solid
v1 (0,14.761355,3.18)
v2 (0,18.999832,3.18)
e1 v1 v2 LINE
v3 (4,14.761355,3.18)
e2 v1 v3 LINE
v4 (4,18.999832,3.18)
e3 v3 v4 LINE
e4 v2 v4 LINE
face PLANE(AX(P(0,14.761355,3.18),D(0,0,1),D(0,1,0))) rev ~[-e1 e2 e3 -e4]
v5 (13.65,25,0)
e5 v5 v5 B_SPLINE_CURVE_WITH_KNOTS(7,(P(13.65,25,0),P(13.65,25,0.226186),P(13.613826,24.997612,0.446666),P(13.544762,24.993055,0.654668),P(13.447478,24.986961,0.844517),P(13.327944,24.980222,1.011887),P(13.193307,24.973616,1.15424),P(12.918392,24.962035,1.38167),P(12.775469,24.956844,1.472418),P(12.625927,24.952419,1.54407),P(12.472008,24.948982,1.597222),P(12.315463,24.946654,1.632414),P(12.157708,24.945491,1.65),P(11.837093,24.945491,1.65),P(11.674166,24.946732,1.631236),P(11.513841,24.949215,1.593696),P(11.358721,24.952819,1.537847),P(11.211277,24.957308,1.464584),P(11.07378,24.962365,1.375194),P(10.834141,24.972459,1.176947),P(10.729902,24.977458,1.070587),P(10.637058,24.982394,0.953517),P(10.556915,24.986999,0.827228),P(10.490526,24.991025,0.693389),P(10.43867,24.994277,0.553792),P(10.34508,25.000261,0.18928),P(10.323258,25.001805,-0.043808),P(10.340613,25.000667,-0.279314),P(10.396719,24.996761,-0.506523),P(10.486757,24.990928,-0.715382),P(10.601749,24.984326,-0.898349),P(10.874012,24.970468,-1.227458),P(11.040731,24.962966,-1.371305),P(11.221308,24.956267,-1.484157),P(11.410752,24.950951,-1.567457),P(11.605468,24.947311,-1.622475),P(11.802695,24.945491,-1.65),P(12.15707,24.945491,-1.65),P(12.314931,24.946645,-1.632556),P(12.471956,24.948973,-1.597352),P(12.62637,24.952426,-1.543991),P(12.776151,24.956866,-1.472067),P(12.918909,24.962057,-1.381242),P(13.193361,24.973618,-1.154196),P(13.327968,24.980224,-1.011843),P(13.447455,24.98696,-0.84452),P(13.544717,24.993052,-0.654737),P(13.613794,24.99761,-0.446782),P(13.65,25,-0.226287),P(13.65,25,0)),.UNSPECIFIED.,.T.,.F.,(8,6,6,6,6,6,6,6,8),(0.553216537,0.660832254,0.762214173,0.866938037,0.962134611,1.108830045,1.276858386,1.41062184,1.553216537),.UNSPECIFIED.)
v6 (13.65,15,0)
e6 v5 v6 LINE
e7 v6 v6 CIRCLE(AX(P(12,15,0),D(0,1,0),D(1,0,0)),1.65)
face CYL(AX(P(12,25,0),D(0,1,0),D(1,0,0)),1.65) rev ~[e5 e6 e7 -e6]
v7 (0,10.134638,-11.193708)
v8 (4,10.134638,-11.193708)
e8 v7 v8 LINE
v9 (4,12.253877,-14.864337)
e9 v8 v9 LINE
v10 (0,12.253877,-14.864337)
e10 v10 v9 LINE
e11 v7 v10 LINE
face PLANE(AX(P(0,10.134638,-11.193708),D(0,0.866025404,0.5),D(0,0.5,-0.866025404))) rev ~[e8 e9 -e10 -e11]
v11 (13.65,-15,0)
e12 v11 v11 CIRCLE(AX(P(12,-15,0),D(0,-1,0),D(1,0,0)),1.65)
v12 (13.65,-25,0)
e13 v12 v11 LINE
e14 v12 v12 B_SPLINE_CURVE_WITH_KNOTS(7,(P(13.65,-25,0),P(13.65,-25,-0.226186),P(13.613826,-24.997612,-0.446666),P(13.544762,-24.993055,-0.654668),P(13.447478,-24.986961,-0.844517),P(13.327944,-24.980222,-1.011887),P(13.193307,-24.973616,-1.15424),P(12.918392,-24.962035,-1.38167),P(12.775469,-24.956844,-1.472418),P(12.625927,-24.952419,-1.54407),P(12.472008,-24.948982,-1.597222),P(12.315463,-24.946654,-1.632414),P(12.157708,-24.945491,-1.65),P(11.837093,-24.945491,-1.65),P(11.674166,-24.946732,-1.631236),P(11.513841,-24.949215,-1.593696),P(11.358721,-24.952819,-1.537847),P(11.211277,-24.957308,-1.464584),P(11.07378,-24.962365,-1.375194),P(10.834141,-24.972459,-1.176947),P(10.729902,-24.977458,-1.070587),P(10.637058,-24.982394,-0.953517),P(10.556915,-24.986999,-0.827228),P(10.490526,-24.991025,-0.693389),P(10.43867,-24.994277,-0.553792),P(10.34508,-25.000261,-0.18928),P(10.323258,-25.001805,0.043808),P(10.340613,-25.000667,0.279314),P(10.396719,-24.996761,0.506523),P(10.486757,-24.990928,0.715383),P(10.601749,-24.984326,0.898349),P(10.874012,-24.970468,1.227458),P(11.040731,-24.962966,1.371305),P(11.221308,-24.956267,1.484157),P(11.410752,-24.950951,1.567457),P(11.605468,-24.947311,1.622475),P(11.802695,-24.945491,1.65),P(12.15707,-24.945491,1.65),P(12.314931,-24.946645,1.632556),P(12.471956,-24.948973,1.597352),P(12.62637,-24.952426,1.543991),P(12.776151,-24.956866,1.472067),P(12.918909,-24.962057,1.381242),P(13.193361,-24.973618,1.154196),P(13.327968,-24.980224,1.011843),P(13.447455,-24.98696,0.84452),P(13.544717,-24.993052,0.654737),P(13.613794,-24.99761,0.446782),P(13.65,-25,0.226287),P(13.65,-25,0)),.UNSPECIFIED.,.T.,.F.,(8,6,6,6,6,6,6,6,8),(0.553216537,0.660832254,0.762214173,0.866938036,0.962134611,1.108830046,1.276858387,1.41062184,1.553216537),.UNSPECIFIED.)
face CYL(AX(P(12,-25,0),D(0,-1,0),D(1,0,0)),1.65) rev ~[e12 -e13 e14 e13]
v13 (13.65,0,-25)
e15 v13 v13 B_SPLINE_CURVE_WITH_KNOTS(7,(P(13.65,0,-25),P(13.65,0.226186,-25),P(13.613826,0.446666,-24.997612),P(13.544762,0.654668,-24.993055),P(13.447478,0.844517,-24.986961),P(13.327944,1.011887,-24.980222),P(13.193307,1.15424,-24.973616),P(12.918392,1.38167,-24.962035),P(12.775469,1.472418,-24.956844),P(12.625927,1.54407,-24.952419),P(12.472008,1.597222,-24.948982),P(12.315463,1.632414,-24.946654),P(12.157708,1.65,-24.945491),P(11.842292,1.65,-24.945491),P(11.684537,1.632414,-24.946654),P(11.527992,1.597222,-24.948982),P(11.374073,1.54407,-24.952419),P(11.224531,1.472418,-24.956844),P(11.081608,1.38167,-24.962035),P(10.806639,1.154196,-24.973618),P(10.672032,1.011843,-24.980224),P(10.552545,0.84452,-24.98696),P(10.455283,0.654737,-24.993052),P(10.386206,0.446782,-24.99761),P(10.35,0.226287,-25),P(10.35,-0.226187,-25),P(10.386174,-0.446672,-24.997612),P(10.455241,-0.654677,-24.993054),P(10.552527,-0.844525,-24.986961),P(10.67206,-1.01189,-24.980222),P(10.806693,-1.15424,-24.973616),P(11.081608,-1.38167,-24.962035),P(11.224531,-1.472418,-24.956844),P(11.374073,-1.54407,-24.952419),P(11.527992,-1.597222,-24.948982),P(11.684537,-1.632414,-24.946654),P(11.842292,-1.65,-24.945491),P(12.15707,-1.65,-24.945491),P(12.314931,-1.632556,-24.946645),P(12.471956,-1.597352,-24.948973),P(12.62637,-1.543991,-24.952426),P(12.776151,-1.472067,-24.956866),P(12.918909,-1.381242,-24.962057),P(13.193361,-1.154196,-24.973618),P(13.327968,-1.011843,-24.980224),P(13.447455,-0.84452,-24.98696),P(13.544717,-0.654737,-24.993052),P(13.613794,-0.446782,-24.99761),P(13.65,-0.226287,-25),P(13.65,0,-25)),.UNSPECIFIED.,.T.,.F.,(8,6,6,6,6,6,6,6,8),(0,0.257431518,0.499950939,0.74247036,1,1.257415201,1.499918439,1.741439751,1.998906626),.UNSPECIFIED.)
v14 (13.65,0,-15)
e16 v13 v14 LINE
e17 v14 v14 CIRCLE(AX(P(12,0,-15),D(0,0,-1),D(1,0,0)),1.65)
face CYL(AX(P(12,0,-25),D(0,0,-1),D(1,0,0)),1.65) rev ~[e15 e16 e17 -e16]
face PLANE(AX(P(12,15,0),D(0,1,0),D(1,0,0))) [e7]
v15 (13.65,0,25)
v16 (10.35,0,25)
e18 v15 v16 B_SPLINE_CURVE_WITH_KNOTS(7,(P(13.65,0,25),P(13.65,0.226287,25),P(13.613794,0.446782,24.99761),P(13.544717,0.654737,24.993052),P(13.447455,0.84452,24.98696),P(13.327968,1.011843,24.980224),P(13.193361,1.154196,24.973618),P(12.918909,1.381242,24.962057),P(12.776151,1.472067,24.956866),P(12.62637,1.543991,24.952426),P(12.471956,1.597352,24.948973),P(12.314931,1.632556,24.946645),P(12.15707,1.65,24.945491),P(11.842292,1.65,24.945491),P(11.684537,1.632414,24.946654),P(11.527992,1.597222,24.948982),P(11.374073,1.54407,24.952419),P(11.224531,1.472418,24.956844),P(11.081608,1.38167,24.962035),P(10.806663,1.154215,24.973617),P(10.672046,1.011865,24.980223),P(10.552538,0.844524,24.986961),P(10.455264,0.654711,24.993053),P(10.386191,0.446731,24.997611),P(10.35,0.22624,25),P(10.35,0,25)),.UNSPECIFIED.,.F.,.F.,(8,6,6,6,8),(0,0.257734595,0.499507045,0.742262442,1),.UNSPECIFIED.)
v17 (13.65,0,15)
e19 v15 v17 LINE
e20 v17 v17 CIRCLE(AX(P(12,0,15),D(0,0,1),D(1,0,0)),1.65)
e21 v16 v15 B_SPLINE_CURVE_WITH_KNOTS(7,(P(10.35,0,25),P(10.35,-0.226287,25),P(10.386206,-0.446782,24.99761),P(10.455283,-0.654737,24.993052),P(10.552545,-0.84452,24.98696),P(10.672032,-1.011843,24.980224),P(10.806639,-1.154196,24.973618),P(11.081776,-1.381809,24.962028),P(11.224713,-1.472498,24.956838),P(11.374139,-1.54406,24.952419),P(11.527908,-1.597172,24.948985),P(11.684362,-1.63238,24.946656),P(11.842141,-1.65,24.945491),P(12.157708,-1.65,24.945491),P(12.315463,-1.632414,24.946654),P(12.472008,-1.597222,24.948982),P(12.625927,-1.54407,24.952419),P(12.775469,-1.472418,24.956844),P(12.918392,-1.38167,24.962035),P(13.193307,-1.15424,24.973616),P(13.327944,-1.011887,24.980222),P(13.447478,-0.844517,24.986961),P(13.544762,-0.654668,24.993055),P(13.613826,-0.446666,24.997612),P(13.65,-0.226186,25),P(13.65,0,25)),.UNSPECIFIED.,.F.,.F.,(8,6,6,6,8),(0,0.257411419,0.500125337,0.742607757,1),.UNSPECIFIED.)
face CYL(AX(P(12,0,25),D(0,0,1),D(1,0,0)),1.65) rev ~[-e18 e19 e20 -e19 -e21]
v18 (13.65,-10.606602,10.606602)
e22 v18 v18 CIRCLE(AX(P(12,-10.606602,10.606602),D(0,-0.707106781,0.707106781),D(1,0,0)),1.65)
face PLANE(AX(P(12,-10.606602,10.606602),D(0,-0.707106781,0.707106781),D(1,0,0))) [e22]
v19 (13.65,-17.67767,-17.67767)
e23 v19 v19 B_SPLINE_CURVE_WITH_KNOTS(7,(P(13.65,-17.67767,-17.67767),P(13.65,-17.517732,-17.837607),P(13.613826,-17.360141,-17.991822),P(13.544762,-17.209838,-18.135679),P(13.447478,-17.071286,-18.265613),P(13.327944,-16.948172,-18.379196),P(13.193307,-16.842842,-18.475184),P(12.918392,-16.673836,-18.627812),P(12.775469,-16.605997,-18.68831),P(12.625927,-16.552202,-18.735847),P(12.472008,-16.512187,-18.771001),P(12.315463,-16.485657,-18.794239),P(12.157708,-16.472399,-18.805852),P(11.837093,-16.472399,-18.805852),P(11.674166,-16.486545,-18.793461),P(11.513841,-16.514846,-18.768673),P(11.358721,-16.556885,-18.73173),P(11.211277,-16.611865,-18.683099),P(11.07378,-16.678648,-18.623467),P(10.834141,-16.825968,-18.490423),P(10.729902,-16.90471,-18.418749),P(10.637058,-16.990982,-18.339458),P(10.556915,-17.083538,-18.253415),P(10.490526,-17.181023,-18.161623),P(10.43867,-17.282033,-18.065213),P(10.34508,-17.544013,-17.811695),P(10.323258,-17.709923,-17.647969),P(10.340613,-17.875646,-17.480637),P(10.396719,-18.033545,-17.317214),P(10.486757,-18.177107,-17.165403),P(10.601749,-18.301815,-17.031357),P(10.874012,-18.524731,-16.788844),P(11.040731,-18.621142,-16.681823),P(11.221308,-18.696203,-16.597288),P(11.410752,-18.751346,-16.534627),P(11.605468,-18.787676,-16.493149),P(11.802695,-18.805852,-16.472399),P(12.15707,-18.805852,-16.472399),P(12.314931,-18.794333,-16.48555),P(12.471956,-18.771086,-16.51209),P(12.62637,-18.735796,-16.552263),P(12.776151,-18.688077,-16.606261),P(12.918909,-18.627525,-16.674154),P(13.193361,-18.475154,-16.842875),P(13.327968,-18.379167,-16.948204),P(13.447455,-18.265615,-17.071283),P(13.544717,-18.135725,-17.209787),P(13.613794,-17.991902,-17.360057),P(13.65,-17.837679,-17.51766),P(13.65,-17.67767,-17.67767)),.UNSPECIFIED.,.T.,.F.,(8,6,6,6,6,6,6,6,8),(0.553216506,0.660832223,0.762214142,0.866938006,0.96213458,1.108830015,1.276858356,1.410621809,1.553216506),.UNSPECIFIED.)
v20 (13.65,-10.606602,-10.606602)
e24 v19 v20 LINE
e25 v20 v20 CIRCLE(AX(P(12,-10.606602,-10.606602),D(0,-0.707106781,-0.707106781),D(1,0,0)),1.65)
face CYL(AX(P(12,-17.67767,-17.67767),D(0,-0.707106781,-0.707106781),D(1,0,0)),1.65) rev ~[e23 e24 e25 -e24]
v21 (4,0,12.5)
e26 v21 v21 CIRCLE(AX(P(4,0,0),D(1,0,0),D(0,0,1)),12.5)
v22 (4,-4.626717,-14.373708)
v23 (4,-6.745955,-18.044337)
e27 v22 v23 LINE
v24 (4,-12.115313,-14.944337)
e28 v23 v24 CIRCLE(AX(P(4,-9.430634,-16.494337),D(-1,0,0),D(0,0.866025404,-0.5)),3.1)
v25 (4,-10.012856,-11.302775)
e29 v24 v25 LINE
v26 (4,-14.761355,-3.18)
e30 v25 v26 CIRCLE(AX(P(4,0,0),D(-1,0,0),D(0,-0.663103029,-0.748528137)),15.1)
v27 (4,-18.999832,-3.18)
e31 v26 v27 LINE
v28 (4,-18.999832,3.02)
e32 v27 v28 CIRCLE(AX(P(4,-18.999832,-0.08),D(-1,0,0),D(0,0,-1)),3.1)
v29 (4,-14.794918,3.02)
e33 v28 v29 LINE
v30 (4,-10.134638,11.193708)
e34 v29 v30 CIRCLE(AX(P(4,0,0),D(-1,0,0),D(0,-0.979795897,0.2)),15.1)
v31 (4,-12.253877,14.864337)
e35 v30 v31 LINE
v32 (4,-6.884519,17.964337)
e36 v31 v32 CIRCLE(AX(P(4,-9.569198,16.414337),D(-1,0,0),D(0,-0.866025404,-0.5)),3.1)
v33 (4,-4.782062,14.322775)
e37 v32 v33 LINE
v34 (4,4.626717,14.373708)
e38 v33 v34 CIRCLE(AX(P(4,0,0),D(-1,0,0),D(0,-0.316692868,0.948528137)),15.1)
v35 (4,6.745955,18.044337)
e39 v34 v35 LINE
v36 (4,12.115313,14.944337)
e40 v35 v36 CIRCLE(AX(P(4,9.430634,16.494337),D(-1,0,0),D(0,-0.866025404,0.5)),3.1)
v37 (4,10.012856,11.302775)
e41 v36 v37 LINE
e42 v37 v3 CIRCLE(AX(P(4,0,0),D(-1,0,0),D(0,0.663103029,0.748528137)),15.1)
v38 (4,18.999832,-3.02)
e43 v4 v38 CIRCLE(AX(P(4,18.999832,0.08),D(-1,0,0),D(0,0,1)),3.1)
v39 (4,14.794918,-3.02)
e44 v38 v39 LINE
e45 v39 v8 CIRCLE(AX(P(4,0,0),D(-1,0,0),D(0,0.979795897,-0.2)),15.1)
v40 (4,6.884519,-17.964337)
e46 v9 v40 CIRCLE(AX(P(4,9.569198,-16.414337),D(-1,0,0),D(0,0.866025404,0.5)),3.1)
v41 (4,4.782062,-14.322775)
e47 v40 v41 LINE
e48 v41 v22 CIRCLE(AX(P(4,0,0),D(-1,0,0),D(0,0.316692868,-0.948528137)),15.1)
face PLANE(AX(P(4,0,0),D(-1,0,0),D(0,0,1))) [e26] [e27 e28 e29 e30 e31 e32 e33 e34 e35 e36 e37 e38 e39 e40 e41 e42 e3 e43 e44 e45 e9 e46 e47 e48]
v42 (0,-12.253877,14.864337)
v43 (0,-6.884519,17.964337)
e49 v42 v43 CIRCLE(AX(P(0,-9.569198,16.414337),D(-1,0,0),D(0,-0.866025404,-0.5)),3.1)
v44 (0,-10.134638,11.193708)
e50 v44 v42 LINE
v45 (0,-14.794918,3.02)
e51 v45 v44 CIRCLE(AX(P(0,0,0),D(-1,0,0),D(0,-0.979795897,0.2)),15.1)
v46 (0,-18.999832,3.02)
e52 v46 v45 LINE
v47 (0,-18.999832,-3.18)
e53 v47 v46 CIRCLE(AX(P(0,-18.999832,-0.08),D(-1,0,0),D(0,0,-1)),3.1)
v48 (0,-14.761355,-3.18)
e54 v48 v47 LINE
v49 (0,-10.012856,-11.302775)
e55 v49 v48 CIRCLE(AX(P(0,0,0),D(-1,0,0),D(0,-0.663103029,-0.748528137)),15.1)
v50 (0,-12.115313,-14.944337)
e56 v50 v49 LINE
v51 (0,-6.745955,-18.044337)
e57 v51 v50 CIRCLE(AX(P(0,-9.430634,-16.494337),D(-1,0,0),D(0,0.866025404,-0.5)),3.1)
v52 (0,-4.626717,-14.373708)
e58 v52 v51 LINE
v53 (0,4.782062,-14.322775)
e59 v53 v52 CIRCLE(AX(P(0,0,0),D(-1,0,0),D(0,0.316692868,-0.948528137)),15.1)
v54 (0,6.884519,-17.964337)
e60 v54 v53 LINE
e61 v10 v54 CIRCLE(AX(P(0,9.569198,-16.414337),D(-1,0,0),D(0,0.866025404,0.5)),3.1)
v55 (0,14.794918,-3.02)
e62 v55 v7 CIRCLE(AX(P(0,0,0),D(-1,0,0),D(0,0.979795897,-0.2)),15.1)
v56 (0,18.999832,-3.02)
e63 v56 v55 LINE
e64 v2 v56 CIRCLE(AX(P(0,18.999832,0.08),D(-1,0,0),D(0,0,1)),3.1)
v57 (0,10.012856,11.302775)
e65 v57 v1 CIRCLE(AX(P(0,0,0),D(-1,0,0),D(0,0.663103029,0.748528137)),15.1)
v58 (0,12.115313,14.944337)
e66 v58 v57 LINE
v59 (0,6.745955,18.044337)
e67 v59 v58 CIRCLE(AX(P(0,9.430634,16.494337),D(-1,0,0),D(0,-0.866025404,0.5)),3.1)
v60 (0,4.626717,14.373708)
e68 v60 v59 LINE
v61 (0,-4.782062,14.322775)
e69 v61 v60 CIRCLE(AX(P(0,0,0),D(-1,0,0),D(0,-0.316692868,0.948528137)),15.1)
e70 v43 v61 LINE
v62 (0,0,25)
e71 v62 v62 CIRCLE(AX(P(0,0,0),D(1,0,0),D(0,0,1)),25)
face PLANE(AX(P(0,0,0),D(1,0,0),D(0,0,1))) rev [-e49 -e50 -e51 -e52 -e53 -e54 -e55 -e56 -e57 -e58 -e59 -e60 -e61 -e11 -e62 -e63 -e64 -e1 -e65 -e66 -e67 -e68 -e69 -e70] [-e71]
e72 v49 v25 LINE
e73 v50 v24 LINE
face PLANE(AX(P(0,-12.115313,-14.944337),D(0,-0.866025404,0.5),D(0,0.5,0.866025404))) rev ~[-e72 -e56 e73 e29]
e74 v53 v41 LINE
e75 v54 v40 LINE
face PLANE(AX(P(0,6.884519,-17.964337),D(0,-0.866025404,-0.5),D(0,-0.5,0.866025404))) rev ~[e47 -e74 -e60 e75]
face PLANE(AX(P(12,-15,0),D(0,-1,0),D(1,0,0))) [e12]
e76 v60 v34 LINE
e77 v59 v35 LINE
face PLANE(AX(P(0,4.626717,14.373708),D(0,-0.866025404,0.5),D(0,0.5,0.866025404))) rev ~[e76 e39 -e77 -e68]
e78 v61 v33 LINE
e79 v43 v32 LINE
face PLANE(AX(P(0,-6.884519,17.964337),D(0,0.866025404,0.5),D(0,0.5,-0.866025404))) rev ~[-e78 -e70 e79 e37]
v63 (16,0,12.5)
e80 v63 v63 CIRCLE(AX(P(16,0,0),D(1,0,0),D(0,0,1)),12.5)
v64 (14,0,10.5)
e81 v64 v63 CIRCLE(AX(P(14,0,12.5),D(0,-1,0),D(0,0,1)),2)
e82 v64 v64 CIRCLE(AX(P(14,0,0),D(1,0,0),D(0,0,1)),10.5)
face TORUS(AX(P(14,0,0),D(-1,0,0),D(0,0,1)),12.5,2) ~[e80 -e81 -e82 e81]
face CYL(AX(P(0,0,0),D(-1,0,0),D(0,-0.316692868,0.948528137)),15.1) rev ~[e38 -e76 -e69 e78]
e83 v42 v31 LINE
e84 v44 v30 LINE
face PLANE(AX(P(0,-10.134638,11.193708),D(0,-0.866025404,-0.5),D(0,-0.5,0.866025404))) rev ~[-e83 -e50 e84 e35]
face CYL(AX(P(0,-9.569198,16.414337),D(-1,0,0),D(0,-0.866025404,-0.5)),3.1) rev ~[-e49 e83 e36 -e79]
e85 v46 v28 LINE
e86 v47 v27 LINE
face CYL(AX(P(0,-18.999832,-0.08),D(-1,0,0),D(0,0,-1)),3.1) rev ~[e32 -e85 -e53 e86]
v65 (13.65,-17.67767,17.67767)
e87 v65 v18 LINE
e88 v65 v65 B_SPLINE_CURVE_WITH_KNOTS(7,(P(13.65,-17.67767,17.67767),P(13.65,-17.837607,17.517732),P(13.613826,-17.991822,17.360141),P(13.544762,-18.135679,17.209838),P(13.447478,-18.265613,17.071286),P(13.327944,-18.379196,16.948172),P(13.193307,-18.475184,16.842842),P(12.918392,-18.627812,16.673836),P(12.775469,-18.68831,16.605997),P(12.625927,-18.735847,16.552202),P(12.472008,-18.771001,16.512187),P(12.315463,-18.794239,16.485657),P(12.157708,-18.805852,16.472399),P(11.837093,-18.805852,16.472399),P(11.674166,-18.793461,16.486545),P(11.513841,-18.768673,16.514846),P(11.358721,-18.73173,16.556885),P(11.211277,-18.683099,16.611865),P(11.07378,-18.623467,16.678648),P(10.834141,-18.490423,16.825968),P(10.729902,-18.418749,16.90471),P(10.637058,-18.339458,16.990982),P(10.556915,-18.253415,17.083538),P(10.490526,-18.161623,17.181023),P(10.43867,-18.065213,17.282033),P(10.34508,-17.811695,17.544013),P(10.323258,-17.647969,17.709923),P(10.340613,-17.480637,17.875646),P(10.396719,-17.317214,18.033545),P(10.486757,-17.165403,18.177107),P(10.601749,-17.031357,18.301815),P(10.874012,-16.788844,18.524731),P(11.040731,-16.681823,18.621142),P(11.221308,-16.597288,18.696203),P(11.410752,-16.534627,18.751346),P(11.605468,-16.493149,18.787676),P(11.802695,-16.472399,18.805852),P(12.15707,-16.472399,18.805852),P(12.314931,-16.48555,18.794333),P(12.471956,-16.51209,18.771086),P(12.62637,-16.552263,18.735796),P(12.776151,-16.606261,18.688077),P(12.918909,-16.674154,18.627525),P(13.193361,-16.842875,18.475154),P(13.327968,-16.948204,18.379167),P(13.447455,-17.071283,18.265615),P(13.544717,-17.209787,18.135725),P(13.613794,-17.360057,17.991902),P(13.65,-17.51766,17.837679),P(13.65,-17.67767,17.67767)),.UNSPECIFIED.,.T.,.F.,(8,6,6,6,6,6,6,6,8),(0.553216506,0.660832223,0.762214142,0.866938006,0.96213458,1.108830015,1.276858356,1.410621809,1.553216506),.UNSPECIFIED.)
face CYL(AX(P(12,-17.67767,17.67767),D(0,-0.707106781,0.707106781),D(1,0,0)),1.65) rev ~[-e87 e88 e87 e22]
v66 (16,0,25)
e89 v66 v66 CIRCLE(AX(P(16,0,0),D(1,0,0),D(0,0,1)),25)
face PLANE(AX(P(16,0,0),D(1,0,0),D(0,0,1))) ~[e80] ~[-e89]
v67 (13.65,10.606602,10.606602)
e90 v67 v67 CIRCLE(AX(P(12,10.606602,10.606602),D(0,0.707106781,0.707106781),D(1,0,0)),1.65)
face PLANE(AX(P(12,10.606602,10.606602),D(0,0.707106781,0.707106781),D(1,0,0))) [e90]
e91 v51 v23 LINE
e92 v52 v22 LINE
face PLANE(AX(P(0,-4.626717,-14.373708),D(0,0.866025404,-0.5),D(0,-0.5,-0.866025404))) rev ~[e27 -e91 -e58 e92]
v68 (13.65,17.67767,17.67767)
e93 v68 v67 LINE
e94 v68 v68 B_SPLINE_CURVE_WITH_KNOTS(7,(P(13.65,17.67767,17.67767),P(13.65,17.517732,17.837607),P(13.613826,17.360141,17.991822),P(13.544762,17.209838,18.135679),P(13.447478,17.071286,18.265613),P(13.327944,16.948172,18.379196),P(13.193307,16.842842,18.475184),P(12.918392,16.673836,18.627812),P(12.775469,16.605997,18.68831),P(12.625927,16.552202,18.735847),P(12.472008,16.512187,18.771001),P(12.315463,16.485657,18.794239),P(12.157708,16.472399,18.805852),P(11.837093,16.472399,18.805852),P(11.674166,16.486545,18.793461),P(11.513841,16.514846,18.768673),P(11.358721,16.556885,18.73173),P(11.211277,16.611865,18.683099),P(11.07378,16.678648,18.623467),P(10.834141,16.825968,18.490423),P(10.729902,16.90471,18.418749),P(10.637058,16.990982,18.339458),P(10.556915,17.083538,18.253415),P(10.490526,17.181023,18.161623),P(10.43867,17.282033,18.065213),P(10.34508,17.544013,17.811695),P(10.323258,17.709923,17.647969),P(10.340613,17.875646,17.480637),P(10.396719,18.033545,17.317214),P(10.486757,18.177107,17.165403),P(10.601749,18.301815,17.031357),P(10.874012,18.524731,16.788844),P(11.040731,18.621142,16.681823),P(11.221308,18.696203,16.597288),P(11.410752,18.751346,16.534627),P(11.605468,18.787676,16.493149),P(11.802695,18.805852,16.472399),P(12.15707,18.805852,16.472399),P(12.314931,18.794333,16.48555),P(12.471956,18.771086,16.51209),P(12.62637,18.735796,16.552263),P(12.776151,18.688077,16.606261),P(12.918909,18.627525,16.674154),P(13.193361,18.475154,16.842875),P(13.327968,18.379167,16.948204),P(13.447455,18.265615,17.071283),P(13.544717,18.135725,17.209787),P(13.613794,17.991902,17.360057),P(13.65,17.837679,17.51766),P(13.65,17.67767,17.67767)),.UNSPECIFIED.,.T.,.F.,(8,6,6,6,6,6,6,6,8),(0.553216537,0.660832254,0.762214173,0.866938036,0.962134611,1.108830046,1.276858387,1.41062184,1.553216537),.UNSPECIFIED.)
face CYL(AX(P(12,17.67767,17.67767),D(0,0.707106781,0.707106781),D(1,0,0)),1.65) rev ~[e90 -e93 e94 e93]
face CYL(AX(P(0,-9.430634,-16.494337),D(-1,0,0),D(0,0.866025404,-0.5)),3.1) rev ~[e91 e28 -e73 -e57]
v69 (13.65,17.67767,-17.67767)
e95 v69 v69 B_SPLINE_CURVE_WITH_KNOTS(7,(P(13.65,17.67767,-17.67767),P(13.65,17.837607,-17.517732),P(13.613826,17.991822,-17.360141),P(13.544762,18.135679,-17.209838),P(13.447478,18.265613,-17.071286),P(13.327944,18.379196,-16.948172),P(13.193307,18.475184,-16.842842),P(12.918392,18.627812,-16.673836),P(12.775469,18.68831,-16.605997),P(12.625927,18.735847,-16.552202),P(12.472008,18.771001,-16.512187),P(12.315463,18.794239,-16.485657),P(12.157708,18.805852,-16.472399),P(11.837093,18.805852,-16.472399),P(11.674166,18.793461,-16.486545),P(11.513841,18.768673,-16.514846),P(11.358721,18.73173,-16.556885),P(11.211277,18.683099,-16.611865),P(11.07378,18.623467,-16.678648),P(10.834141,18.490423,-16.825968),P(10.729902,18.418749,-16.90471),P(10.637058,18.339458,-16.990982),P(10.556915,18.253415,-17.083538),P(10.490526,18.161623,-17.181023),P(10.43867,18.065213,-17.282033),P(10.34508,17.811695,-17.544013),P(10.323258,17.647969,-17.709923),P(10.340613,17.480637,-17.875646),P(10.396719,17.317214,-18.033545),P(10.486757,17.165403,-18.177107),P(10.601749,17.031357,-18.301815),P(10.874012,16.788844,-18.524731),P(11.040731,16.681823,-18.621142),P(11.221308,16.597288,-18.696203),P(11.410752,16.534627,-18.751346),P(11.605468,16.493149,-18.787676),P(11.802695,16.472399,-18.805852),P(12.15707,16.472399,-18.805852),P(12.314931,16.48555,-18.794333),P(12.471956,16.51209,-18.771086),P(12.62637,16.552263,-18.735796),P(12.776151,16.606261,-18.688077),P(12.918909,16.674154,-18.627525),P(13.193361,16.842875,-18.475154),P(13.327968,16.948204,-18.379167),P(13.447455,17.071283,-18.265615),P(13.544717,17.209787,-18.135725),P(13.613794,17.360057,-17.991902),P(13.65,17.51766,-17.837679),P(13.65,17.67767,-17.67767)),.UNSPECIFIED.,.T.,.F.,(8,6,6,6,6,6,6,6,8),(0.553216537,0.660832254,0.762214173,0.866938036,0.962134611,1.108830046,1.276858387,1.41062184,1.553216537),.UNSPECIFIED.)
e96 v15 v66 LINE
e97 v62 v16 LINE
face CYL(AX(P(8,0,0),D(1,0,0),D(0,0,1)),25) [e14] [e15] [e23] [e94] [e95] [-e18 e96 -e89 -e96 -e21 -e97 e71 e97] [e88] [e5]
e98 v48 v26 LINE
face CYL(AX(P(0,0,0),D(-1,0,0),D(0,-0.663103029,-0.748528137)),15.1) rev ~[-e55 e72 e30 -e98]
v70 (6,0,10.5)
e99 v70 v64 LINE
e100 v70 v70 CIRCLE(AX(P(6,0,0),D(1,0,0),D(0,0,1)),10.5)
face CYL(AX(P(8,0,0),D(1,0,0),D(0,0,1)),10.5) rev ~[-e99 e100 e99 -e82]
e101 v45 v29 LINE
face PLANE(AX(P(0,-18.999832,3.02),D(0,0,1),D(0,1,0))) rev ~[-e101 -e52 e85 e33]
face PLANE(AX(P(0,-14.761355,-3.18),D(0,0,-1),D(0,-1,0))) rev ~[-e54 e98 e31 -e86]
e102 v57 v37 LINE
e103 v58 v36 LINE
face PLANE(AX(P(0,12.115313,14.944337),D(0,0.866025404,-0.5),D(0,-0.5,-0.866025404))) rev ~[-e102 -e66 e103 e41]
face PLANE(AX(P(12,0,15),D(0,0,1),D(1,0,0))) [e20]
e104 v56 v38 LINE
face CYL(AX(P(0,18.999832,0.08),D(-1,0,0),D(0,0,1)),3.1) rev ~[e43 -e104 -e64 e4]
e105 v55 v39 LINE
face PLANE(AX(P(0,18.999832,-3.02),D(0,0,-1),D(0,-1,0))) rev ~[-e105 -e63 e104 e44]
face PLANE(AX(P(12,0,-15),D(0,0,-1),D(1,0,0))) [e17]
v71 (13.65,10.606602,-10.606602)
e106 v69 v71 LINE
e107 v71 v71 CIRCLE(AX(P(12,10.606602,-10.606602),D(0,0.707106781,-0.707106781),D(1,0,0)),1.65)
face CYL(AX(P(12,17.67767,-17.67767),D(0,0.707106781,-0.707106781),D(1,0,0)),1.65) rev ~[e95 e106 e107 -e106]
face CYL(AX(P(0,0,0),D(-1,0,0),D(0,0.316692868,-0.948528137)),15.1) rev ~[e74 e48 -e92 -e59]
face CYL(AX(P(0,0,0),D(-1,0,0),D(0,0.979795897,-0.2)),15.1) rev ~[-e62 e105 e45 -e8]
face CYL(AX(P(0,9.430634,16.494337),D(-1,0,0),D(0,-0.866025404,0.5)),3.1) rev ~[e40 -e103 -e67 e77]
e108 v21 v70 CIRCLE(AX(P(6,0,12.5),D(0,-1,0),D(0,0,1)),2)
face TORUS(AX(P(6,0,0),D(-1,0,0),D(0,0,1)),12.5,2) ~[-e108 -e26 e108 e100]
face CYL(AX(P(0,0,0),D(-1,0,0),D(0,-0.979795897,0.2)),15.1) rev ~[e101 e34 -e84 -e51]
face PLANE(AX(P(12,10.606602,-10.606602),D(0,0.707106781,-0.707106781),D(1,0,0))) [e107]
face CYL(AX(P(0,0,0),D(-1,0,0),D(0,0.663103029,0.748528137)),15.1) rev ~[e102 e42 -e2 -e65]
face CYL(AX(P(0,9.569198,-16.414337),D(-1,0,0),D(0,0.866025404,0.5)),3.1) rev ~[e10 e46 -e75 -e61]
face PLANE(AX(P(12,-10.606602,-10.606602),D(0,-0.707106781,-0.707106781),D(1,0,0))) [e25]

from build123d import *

# Parameters (mm, degrees)
ESQUISSE1_W                  = 16
ESQUISSE1_H                  = 14.5
ESQUISSE2_R                  = 4.1
ENL_V_MAT_EXTRU_1_DEPTH      = 4
CONG_2_R                     = 2
CONG_3_R                     = 2
ENL_V_START                  = 25
ESQUISSE3_R                  = 1.65
ENL_V_MAT_EXTRU_2_DEPTH      = 10
R_P_TITION_CIRCULAIRE1_COUNT = 8


with BuildPart() as part:
    # Esquisse1 → Révolution1 (revolve)
    with BuildSketch(Plane.XY, mode=Mode.PRIVATE) as r_volution1_sk:
        with Locations((8, 17.75)):
            Rectangle(ESQUISSE1_W, ESQUISSE1_H)
    revolve(r_volution1_sk.sketch.rotate(Axis((0, 0, 0), (1, 0, 0)), 90), axis=Axis((0, 0, 0), (1, 0, 0)))  # turned: the seam where the file's is

    # Esquisse2 → Enlèv. mat.-Extru.1 (cut)
    with BuildSketch(Plane.ZY):
        with BuildLine():
            Line((3.18, 14.761354951), (3.18, 18.999831578))
            ThreePointArc((3.18, 18.999831578), (0.08, 22.099831578), (-3.02, 18.999831578))
            Line((-3.02, 18.999831578), (-3.02, 14.794918046))
            ThreePointArc((-3.02, 14.794918046), (-7.479099439, 13.117662581), (-11.193708382, 10.13463826))
            Line((-11.193708382, 10.13463826), (-14.864336814, 12.253876573))
            ThreePointArc((-14.864336814, 12.253876573), (-19.099015566, 11.119197821), (-17.964336814, 6.88451907))
            Line((-17.964336814, 6.88451907), (-14.322774875, 4.782062304))
            ThreePointArc((-14.322774875, 4.782062304), (-15.099778753, 0.081741179), (-14.373708382, -4.626716692))
            Line((-14.373708382, -4.626716692), (-18.044336814, -6.745955005))
            ThreePointArc((-18.044336814, -6.745955005), (-19.179015566, -10.980633757), (-14.944336814, -12.115312509))
            Line((-14.944336814, -12.115312509), (-11.302774875, -10.012855743))
            ThreePointArc((-11.302774875, -10.012855743), (-7.620679314, -13.035921402), (-3.18, -14.761354951))
            Line((-3.18, -14.761354951), (-3.18, -18.999831578))
            ThreePointArc((-3.18, -18.999831578), (-0.08, -22.099831578), (3.02, -18.999831578))
            Line((3.02, -18.999831578), (3.02, -14.794918046))
            ThreePointArc((3.02, -14.794918046), (7.479099439, -13.117662581), (11.193708382, -10.13463826))
            Line((11.193708382, -10.13463826), (14.864336814, -12.253876573))
            ThreePointArc((14.864336814, -12.253876573), (19.099015566, -11.119197821), (17.964336814, -6.88451907))
            Line((17.964336814, -6.88451907), (14.322774875, -4.782062304))
            ThreePointArc((14.322774875, -4.782062304), (15.099778753, -0.081741179), (14.373708382, 4.626716692))
            Line((14.373708382, 4.626716692), (18.044336814, 6.745955005))
            ThreePointArc((18.044336814, 6.745955005), (19.179015566, 10.980633757), (14.944336814, 12.115312509))
            Line((14.944336814, 12.115312509), (11.302774875, 10.012855743))
            ThreePointArc((11.302774875, 10.012855743), (7.620679314, 13.035921402), (3.18, 14.761354951))
        make_face()
        Circle(ESQUISSE2_R, mode=Mode.SUBTRACT)
    extrude(amount=-ENL_V_MAT_EXTRU_1_DEPTH, mode=Mode.SUBTRACT)

    # Congé2
    cong_2_edges = [part.edges().sort_by_distance(p)[0] for p in [
        (4, 0, -10.5),
    ]]
    fillet(cong_2_edges, radius=CONG_2_R)

    # Congé3
    cong_3_edges = [part.edges().sort_by_distance(p)[0] for p in [
        (16, 0, -10.5),
    ]]
    fillet(cong_3_edges, radius=CONG_3_R)

    # Esquisse3 → Enlèv. mat.-Extru.2 (cut)
    with BuildSketch(Plane.XY.offset(ENL_V_START)):
        with Locations((12, 0)):
            Circle(ESQUISSE3_R)
    enl_v_mat_extru_2 = extrude(amount=-ENL_V_MAT_EXTRU_2_DEPTH, mode=Mode.SUBTRACT)

    # Répétition circulaire1: Enlèv. mat.-Extru.2 ×8 about axis
    r_p_tition_circulaire1_axis = Axis((0, 0, 0), (1, 0, 0))
    for i in range(1, R_P_TITION_CIRCULAIRE1_COUNT):
        add(enl_v_mat_extru_2.rotate(r_p_tition_circulaire1_axis, i * 360 / R_P_TITION_CIRCULAIRE1_COUNT), mode=Mode.SUBTRACT)


solid = part.part
